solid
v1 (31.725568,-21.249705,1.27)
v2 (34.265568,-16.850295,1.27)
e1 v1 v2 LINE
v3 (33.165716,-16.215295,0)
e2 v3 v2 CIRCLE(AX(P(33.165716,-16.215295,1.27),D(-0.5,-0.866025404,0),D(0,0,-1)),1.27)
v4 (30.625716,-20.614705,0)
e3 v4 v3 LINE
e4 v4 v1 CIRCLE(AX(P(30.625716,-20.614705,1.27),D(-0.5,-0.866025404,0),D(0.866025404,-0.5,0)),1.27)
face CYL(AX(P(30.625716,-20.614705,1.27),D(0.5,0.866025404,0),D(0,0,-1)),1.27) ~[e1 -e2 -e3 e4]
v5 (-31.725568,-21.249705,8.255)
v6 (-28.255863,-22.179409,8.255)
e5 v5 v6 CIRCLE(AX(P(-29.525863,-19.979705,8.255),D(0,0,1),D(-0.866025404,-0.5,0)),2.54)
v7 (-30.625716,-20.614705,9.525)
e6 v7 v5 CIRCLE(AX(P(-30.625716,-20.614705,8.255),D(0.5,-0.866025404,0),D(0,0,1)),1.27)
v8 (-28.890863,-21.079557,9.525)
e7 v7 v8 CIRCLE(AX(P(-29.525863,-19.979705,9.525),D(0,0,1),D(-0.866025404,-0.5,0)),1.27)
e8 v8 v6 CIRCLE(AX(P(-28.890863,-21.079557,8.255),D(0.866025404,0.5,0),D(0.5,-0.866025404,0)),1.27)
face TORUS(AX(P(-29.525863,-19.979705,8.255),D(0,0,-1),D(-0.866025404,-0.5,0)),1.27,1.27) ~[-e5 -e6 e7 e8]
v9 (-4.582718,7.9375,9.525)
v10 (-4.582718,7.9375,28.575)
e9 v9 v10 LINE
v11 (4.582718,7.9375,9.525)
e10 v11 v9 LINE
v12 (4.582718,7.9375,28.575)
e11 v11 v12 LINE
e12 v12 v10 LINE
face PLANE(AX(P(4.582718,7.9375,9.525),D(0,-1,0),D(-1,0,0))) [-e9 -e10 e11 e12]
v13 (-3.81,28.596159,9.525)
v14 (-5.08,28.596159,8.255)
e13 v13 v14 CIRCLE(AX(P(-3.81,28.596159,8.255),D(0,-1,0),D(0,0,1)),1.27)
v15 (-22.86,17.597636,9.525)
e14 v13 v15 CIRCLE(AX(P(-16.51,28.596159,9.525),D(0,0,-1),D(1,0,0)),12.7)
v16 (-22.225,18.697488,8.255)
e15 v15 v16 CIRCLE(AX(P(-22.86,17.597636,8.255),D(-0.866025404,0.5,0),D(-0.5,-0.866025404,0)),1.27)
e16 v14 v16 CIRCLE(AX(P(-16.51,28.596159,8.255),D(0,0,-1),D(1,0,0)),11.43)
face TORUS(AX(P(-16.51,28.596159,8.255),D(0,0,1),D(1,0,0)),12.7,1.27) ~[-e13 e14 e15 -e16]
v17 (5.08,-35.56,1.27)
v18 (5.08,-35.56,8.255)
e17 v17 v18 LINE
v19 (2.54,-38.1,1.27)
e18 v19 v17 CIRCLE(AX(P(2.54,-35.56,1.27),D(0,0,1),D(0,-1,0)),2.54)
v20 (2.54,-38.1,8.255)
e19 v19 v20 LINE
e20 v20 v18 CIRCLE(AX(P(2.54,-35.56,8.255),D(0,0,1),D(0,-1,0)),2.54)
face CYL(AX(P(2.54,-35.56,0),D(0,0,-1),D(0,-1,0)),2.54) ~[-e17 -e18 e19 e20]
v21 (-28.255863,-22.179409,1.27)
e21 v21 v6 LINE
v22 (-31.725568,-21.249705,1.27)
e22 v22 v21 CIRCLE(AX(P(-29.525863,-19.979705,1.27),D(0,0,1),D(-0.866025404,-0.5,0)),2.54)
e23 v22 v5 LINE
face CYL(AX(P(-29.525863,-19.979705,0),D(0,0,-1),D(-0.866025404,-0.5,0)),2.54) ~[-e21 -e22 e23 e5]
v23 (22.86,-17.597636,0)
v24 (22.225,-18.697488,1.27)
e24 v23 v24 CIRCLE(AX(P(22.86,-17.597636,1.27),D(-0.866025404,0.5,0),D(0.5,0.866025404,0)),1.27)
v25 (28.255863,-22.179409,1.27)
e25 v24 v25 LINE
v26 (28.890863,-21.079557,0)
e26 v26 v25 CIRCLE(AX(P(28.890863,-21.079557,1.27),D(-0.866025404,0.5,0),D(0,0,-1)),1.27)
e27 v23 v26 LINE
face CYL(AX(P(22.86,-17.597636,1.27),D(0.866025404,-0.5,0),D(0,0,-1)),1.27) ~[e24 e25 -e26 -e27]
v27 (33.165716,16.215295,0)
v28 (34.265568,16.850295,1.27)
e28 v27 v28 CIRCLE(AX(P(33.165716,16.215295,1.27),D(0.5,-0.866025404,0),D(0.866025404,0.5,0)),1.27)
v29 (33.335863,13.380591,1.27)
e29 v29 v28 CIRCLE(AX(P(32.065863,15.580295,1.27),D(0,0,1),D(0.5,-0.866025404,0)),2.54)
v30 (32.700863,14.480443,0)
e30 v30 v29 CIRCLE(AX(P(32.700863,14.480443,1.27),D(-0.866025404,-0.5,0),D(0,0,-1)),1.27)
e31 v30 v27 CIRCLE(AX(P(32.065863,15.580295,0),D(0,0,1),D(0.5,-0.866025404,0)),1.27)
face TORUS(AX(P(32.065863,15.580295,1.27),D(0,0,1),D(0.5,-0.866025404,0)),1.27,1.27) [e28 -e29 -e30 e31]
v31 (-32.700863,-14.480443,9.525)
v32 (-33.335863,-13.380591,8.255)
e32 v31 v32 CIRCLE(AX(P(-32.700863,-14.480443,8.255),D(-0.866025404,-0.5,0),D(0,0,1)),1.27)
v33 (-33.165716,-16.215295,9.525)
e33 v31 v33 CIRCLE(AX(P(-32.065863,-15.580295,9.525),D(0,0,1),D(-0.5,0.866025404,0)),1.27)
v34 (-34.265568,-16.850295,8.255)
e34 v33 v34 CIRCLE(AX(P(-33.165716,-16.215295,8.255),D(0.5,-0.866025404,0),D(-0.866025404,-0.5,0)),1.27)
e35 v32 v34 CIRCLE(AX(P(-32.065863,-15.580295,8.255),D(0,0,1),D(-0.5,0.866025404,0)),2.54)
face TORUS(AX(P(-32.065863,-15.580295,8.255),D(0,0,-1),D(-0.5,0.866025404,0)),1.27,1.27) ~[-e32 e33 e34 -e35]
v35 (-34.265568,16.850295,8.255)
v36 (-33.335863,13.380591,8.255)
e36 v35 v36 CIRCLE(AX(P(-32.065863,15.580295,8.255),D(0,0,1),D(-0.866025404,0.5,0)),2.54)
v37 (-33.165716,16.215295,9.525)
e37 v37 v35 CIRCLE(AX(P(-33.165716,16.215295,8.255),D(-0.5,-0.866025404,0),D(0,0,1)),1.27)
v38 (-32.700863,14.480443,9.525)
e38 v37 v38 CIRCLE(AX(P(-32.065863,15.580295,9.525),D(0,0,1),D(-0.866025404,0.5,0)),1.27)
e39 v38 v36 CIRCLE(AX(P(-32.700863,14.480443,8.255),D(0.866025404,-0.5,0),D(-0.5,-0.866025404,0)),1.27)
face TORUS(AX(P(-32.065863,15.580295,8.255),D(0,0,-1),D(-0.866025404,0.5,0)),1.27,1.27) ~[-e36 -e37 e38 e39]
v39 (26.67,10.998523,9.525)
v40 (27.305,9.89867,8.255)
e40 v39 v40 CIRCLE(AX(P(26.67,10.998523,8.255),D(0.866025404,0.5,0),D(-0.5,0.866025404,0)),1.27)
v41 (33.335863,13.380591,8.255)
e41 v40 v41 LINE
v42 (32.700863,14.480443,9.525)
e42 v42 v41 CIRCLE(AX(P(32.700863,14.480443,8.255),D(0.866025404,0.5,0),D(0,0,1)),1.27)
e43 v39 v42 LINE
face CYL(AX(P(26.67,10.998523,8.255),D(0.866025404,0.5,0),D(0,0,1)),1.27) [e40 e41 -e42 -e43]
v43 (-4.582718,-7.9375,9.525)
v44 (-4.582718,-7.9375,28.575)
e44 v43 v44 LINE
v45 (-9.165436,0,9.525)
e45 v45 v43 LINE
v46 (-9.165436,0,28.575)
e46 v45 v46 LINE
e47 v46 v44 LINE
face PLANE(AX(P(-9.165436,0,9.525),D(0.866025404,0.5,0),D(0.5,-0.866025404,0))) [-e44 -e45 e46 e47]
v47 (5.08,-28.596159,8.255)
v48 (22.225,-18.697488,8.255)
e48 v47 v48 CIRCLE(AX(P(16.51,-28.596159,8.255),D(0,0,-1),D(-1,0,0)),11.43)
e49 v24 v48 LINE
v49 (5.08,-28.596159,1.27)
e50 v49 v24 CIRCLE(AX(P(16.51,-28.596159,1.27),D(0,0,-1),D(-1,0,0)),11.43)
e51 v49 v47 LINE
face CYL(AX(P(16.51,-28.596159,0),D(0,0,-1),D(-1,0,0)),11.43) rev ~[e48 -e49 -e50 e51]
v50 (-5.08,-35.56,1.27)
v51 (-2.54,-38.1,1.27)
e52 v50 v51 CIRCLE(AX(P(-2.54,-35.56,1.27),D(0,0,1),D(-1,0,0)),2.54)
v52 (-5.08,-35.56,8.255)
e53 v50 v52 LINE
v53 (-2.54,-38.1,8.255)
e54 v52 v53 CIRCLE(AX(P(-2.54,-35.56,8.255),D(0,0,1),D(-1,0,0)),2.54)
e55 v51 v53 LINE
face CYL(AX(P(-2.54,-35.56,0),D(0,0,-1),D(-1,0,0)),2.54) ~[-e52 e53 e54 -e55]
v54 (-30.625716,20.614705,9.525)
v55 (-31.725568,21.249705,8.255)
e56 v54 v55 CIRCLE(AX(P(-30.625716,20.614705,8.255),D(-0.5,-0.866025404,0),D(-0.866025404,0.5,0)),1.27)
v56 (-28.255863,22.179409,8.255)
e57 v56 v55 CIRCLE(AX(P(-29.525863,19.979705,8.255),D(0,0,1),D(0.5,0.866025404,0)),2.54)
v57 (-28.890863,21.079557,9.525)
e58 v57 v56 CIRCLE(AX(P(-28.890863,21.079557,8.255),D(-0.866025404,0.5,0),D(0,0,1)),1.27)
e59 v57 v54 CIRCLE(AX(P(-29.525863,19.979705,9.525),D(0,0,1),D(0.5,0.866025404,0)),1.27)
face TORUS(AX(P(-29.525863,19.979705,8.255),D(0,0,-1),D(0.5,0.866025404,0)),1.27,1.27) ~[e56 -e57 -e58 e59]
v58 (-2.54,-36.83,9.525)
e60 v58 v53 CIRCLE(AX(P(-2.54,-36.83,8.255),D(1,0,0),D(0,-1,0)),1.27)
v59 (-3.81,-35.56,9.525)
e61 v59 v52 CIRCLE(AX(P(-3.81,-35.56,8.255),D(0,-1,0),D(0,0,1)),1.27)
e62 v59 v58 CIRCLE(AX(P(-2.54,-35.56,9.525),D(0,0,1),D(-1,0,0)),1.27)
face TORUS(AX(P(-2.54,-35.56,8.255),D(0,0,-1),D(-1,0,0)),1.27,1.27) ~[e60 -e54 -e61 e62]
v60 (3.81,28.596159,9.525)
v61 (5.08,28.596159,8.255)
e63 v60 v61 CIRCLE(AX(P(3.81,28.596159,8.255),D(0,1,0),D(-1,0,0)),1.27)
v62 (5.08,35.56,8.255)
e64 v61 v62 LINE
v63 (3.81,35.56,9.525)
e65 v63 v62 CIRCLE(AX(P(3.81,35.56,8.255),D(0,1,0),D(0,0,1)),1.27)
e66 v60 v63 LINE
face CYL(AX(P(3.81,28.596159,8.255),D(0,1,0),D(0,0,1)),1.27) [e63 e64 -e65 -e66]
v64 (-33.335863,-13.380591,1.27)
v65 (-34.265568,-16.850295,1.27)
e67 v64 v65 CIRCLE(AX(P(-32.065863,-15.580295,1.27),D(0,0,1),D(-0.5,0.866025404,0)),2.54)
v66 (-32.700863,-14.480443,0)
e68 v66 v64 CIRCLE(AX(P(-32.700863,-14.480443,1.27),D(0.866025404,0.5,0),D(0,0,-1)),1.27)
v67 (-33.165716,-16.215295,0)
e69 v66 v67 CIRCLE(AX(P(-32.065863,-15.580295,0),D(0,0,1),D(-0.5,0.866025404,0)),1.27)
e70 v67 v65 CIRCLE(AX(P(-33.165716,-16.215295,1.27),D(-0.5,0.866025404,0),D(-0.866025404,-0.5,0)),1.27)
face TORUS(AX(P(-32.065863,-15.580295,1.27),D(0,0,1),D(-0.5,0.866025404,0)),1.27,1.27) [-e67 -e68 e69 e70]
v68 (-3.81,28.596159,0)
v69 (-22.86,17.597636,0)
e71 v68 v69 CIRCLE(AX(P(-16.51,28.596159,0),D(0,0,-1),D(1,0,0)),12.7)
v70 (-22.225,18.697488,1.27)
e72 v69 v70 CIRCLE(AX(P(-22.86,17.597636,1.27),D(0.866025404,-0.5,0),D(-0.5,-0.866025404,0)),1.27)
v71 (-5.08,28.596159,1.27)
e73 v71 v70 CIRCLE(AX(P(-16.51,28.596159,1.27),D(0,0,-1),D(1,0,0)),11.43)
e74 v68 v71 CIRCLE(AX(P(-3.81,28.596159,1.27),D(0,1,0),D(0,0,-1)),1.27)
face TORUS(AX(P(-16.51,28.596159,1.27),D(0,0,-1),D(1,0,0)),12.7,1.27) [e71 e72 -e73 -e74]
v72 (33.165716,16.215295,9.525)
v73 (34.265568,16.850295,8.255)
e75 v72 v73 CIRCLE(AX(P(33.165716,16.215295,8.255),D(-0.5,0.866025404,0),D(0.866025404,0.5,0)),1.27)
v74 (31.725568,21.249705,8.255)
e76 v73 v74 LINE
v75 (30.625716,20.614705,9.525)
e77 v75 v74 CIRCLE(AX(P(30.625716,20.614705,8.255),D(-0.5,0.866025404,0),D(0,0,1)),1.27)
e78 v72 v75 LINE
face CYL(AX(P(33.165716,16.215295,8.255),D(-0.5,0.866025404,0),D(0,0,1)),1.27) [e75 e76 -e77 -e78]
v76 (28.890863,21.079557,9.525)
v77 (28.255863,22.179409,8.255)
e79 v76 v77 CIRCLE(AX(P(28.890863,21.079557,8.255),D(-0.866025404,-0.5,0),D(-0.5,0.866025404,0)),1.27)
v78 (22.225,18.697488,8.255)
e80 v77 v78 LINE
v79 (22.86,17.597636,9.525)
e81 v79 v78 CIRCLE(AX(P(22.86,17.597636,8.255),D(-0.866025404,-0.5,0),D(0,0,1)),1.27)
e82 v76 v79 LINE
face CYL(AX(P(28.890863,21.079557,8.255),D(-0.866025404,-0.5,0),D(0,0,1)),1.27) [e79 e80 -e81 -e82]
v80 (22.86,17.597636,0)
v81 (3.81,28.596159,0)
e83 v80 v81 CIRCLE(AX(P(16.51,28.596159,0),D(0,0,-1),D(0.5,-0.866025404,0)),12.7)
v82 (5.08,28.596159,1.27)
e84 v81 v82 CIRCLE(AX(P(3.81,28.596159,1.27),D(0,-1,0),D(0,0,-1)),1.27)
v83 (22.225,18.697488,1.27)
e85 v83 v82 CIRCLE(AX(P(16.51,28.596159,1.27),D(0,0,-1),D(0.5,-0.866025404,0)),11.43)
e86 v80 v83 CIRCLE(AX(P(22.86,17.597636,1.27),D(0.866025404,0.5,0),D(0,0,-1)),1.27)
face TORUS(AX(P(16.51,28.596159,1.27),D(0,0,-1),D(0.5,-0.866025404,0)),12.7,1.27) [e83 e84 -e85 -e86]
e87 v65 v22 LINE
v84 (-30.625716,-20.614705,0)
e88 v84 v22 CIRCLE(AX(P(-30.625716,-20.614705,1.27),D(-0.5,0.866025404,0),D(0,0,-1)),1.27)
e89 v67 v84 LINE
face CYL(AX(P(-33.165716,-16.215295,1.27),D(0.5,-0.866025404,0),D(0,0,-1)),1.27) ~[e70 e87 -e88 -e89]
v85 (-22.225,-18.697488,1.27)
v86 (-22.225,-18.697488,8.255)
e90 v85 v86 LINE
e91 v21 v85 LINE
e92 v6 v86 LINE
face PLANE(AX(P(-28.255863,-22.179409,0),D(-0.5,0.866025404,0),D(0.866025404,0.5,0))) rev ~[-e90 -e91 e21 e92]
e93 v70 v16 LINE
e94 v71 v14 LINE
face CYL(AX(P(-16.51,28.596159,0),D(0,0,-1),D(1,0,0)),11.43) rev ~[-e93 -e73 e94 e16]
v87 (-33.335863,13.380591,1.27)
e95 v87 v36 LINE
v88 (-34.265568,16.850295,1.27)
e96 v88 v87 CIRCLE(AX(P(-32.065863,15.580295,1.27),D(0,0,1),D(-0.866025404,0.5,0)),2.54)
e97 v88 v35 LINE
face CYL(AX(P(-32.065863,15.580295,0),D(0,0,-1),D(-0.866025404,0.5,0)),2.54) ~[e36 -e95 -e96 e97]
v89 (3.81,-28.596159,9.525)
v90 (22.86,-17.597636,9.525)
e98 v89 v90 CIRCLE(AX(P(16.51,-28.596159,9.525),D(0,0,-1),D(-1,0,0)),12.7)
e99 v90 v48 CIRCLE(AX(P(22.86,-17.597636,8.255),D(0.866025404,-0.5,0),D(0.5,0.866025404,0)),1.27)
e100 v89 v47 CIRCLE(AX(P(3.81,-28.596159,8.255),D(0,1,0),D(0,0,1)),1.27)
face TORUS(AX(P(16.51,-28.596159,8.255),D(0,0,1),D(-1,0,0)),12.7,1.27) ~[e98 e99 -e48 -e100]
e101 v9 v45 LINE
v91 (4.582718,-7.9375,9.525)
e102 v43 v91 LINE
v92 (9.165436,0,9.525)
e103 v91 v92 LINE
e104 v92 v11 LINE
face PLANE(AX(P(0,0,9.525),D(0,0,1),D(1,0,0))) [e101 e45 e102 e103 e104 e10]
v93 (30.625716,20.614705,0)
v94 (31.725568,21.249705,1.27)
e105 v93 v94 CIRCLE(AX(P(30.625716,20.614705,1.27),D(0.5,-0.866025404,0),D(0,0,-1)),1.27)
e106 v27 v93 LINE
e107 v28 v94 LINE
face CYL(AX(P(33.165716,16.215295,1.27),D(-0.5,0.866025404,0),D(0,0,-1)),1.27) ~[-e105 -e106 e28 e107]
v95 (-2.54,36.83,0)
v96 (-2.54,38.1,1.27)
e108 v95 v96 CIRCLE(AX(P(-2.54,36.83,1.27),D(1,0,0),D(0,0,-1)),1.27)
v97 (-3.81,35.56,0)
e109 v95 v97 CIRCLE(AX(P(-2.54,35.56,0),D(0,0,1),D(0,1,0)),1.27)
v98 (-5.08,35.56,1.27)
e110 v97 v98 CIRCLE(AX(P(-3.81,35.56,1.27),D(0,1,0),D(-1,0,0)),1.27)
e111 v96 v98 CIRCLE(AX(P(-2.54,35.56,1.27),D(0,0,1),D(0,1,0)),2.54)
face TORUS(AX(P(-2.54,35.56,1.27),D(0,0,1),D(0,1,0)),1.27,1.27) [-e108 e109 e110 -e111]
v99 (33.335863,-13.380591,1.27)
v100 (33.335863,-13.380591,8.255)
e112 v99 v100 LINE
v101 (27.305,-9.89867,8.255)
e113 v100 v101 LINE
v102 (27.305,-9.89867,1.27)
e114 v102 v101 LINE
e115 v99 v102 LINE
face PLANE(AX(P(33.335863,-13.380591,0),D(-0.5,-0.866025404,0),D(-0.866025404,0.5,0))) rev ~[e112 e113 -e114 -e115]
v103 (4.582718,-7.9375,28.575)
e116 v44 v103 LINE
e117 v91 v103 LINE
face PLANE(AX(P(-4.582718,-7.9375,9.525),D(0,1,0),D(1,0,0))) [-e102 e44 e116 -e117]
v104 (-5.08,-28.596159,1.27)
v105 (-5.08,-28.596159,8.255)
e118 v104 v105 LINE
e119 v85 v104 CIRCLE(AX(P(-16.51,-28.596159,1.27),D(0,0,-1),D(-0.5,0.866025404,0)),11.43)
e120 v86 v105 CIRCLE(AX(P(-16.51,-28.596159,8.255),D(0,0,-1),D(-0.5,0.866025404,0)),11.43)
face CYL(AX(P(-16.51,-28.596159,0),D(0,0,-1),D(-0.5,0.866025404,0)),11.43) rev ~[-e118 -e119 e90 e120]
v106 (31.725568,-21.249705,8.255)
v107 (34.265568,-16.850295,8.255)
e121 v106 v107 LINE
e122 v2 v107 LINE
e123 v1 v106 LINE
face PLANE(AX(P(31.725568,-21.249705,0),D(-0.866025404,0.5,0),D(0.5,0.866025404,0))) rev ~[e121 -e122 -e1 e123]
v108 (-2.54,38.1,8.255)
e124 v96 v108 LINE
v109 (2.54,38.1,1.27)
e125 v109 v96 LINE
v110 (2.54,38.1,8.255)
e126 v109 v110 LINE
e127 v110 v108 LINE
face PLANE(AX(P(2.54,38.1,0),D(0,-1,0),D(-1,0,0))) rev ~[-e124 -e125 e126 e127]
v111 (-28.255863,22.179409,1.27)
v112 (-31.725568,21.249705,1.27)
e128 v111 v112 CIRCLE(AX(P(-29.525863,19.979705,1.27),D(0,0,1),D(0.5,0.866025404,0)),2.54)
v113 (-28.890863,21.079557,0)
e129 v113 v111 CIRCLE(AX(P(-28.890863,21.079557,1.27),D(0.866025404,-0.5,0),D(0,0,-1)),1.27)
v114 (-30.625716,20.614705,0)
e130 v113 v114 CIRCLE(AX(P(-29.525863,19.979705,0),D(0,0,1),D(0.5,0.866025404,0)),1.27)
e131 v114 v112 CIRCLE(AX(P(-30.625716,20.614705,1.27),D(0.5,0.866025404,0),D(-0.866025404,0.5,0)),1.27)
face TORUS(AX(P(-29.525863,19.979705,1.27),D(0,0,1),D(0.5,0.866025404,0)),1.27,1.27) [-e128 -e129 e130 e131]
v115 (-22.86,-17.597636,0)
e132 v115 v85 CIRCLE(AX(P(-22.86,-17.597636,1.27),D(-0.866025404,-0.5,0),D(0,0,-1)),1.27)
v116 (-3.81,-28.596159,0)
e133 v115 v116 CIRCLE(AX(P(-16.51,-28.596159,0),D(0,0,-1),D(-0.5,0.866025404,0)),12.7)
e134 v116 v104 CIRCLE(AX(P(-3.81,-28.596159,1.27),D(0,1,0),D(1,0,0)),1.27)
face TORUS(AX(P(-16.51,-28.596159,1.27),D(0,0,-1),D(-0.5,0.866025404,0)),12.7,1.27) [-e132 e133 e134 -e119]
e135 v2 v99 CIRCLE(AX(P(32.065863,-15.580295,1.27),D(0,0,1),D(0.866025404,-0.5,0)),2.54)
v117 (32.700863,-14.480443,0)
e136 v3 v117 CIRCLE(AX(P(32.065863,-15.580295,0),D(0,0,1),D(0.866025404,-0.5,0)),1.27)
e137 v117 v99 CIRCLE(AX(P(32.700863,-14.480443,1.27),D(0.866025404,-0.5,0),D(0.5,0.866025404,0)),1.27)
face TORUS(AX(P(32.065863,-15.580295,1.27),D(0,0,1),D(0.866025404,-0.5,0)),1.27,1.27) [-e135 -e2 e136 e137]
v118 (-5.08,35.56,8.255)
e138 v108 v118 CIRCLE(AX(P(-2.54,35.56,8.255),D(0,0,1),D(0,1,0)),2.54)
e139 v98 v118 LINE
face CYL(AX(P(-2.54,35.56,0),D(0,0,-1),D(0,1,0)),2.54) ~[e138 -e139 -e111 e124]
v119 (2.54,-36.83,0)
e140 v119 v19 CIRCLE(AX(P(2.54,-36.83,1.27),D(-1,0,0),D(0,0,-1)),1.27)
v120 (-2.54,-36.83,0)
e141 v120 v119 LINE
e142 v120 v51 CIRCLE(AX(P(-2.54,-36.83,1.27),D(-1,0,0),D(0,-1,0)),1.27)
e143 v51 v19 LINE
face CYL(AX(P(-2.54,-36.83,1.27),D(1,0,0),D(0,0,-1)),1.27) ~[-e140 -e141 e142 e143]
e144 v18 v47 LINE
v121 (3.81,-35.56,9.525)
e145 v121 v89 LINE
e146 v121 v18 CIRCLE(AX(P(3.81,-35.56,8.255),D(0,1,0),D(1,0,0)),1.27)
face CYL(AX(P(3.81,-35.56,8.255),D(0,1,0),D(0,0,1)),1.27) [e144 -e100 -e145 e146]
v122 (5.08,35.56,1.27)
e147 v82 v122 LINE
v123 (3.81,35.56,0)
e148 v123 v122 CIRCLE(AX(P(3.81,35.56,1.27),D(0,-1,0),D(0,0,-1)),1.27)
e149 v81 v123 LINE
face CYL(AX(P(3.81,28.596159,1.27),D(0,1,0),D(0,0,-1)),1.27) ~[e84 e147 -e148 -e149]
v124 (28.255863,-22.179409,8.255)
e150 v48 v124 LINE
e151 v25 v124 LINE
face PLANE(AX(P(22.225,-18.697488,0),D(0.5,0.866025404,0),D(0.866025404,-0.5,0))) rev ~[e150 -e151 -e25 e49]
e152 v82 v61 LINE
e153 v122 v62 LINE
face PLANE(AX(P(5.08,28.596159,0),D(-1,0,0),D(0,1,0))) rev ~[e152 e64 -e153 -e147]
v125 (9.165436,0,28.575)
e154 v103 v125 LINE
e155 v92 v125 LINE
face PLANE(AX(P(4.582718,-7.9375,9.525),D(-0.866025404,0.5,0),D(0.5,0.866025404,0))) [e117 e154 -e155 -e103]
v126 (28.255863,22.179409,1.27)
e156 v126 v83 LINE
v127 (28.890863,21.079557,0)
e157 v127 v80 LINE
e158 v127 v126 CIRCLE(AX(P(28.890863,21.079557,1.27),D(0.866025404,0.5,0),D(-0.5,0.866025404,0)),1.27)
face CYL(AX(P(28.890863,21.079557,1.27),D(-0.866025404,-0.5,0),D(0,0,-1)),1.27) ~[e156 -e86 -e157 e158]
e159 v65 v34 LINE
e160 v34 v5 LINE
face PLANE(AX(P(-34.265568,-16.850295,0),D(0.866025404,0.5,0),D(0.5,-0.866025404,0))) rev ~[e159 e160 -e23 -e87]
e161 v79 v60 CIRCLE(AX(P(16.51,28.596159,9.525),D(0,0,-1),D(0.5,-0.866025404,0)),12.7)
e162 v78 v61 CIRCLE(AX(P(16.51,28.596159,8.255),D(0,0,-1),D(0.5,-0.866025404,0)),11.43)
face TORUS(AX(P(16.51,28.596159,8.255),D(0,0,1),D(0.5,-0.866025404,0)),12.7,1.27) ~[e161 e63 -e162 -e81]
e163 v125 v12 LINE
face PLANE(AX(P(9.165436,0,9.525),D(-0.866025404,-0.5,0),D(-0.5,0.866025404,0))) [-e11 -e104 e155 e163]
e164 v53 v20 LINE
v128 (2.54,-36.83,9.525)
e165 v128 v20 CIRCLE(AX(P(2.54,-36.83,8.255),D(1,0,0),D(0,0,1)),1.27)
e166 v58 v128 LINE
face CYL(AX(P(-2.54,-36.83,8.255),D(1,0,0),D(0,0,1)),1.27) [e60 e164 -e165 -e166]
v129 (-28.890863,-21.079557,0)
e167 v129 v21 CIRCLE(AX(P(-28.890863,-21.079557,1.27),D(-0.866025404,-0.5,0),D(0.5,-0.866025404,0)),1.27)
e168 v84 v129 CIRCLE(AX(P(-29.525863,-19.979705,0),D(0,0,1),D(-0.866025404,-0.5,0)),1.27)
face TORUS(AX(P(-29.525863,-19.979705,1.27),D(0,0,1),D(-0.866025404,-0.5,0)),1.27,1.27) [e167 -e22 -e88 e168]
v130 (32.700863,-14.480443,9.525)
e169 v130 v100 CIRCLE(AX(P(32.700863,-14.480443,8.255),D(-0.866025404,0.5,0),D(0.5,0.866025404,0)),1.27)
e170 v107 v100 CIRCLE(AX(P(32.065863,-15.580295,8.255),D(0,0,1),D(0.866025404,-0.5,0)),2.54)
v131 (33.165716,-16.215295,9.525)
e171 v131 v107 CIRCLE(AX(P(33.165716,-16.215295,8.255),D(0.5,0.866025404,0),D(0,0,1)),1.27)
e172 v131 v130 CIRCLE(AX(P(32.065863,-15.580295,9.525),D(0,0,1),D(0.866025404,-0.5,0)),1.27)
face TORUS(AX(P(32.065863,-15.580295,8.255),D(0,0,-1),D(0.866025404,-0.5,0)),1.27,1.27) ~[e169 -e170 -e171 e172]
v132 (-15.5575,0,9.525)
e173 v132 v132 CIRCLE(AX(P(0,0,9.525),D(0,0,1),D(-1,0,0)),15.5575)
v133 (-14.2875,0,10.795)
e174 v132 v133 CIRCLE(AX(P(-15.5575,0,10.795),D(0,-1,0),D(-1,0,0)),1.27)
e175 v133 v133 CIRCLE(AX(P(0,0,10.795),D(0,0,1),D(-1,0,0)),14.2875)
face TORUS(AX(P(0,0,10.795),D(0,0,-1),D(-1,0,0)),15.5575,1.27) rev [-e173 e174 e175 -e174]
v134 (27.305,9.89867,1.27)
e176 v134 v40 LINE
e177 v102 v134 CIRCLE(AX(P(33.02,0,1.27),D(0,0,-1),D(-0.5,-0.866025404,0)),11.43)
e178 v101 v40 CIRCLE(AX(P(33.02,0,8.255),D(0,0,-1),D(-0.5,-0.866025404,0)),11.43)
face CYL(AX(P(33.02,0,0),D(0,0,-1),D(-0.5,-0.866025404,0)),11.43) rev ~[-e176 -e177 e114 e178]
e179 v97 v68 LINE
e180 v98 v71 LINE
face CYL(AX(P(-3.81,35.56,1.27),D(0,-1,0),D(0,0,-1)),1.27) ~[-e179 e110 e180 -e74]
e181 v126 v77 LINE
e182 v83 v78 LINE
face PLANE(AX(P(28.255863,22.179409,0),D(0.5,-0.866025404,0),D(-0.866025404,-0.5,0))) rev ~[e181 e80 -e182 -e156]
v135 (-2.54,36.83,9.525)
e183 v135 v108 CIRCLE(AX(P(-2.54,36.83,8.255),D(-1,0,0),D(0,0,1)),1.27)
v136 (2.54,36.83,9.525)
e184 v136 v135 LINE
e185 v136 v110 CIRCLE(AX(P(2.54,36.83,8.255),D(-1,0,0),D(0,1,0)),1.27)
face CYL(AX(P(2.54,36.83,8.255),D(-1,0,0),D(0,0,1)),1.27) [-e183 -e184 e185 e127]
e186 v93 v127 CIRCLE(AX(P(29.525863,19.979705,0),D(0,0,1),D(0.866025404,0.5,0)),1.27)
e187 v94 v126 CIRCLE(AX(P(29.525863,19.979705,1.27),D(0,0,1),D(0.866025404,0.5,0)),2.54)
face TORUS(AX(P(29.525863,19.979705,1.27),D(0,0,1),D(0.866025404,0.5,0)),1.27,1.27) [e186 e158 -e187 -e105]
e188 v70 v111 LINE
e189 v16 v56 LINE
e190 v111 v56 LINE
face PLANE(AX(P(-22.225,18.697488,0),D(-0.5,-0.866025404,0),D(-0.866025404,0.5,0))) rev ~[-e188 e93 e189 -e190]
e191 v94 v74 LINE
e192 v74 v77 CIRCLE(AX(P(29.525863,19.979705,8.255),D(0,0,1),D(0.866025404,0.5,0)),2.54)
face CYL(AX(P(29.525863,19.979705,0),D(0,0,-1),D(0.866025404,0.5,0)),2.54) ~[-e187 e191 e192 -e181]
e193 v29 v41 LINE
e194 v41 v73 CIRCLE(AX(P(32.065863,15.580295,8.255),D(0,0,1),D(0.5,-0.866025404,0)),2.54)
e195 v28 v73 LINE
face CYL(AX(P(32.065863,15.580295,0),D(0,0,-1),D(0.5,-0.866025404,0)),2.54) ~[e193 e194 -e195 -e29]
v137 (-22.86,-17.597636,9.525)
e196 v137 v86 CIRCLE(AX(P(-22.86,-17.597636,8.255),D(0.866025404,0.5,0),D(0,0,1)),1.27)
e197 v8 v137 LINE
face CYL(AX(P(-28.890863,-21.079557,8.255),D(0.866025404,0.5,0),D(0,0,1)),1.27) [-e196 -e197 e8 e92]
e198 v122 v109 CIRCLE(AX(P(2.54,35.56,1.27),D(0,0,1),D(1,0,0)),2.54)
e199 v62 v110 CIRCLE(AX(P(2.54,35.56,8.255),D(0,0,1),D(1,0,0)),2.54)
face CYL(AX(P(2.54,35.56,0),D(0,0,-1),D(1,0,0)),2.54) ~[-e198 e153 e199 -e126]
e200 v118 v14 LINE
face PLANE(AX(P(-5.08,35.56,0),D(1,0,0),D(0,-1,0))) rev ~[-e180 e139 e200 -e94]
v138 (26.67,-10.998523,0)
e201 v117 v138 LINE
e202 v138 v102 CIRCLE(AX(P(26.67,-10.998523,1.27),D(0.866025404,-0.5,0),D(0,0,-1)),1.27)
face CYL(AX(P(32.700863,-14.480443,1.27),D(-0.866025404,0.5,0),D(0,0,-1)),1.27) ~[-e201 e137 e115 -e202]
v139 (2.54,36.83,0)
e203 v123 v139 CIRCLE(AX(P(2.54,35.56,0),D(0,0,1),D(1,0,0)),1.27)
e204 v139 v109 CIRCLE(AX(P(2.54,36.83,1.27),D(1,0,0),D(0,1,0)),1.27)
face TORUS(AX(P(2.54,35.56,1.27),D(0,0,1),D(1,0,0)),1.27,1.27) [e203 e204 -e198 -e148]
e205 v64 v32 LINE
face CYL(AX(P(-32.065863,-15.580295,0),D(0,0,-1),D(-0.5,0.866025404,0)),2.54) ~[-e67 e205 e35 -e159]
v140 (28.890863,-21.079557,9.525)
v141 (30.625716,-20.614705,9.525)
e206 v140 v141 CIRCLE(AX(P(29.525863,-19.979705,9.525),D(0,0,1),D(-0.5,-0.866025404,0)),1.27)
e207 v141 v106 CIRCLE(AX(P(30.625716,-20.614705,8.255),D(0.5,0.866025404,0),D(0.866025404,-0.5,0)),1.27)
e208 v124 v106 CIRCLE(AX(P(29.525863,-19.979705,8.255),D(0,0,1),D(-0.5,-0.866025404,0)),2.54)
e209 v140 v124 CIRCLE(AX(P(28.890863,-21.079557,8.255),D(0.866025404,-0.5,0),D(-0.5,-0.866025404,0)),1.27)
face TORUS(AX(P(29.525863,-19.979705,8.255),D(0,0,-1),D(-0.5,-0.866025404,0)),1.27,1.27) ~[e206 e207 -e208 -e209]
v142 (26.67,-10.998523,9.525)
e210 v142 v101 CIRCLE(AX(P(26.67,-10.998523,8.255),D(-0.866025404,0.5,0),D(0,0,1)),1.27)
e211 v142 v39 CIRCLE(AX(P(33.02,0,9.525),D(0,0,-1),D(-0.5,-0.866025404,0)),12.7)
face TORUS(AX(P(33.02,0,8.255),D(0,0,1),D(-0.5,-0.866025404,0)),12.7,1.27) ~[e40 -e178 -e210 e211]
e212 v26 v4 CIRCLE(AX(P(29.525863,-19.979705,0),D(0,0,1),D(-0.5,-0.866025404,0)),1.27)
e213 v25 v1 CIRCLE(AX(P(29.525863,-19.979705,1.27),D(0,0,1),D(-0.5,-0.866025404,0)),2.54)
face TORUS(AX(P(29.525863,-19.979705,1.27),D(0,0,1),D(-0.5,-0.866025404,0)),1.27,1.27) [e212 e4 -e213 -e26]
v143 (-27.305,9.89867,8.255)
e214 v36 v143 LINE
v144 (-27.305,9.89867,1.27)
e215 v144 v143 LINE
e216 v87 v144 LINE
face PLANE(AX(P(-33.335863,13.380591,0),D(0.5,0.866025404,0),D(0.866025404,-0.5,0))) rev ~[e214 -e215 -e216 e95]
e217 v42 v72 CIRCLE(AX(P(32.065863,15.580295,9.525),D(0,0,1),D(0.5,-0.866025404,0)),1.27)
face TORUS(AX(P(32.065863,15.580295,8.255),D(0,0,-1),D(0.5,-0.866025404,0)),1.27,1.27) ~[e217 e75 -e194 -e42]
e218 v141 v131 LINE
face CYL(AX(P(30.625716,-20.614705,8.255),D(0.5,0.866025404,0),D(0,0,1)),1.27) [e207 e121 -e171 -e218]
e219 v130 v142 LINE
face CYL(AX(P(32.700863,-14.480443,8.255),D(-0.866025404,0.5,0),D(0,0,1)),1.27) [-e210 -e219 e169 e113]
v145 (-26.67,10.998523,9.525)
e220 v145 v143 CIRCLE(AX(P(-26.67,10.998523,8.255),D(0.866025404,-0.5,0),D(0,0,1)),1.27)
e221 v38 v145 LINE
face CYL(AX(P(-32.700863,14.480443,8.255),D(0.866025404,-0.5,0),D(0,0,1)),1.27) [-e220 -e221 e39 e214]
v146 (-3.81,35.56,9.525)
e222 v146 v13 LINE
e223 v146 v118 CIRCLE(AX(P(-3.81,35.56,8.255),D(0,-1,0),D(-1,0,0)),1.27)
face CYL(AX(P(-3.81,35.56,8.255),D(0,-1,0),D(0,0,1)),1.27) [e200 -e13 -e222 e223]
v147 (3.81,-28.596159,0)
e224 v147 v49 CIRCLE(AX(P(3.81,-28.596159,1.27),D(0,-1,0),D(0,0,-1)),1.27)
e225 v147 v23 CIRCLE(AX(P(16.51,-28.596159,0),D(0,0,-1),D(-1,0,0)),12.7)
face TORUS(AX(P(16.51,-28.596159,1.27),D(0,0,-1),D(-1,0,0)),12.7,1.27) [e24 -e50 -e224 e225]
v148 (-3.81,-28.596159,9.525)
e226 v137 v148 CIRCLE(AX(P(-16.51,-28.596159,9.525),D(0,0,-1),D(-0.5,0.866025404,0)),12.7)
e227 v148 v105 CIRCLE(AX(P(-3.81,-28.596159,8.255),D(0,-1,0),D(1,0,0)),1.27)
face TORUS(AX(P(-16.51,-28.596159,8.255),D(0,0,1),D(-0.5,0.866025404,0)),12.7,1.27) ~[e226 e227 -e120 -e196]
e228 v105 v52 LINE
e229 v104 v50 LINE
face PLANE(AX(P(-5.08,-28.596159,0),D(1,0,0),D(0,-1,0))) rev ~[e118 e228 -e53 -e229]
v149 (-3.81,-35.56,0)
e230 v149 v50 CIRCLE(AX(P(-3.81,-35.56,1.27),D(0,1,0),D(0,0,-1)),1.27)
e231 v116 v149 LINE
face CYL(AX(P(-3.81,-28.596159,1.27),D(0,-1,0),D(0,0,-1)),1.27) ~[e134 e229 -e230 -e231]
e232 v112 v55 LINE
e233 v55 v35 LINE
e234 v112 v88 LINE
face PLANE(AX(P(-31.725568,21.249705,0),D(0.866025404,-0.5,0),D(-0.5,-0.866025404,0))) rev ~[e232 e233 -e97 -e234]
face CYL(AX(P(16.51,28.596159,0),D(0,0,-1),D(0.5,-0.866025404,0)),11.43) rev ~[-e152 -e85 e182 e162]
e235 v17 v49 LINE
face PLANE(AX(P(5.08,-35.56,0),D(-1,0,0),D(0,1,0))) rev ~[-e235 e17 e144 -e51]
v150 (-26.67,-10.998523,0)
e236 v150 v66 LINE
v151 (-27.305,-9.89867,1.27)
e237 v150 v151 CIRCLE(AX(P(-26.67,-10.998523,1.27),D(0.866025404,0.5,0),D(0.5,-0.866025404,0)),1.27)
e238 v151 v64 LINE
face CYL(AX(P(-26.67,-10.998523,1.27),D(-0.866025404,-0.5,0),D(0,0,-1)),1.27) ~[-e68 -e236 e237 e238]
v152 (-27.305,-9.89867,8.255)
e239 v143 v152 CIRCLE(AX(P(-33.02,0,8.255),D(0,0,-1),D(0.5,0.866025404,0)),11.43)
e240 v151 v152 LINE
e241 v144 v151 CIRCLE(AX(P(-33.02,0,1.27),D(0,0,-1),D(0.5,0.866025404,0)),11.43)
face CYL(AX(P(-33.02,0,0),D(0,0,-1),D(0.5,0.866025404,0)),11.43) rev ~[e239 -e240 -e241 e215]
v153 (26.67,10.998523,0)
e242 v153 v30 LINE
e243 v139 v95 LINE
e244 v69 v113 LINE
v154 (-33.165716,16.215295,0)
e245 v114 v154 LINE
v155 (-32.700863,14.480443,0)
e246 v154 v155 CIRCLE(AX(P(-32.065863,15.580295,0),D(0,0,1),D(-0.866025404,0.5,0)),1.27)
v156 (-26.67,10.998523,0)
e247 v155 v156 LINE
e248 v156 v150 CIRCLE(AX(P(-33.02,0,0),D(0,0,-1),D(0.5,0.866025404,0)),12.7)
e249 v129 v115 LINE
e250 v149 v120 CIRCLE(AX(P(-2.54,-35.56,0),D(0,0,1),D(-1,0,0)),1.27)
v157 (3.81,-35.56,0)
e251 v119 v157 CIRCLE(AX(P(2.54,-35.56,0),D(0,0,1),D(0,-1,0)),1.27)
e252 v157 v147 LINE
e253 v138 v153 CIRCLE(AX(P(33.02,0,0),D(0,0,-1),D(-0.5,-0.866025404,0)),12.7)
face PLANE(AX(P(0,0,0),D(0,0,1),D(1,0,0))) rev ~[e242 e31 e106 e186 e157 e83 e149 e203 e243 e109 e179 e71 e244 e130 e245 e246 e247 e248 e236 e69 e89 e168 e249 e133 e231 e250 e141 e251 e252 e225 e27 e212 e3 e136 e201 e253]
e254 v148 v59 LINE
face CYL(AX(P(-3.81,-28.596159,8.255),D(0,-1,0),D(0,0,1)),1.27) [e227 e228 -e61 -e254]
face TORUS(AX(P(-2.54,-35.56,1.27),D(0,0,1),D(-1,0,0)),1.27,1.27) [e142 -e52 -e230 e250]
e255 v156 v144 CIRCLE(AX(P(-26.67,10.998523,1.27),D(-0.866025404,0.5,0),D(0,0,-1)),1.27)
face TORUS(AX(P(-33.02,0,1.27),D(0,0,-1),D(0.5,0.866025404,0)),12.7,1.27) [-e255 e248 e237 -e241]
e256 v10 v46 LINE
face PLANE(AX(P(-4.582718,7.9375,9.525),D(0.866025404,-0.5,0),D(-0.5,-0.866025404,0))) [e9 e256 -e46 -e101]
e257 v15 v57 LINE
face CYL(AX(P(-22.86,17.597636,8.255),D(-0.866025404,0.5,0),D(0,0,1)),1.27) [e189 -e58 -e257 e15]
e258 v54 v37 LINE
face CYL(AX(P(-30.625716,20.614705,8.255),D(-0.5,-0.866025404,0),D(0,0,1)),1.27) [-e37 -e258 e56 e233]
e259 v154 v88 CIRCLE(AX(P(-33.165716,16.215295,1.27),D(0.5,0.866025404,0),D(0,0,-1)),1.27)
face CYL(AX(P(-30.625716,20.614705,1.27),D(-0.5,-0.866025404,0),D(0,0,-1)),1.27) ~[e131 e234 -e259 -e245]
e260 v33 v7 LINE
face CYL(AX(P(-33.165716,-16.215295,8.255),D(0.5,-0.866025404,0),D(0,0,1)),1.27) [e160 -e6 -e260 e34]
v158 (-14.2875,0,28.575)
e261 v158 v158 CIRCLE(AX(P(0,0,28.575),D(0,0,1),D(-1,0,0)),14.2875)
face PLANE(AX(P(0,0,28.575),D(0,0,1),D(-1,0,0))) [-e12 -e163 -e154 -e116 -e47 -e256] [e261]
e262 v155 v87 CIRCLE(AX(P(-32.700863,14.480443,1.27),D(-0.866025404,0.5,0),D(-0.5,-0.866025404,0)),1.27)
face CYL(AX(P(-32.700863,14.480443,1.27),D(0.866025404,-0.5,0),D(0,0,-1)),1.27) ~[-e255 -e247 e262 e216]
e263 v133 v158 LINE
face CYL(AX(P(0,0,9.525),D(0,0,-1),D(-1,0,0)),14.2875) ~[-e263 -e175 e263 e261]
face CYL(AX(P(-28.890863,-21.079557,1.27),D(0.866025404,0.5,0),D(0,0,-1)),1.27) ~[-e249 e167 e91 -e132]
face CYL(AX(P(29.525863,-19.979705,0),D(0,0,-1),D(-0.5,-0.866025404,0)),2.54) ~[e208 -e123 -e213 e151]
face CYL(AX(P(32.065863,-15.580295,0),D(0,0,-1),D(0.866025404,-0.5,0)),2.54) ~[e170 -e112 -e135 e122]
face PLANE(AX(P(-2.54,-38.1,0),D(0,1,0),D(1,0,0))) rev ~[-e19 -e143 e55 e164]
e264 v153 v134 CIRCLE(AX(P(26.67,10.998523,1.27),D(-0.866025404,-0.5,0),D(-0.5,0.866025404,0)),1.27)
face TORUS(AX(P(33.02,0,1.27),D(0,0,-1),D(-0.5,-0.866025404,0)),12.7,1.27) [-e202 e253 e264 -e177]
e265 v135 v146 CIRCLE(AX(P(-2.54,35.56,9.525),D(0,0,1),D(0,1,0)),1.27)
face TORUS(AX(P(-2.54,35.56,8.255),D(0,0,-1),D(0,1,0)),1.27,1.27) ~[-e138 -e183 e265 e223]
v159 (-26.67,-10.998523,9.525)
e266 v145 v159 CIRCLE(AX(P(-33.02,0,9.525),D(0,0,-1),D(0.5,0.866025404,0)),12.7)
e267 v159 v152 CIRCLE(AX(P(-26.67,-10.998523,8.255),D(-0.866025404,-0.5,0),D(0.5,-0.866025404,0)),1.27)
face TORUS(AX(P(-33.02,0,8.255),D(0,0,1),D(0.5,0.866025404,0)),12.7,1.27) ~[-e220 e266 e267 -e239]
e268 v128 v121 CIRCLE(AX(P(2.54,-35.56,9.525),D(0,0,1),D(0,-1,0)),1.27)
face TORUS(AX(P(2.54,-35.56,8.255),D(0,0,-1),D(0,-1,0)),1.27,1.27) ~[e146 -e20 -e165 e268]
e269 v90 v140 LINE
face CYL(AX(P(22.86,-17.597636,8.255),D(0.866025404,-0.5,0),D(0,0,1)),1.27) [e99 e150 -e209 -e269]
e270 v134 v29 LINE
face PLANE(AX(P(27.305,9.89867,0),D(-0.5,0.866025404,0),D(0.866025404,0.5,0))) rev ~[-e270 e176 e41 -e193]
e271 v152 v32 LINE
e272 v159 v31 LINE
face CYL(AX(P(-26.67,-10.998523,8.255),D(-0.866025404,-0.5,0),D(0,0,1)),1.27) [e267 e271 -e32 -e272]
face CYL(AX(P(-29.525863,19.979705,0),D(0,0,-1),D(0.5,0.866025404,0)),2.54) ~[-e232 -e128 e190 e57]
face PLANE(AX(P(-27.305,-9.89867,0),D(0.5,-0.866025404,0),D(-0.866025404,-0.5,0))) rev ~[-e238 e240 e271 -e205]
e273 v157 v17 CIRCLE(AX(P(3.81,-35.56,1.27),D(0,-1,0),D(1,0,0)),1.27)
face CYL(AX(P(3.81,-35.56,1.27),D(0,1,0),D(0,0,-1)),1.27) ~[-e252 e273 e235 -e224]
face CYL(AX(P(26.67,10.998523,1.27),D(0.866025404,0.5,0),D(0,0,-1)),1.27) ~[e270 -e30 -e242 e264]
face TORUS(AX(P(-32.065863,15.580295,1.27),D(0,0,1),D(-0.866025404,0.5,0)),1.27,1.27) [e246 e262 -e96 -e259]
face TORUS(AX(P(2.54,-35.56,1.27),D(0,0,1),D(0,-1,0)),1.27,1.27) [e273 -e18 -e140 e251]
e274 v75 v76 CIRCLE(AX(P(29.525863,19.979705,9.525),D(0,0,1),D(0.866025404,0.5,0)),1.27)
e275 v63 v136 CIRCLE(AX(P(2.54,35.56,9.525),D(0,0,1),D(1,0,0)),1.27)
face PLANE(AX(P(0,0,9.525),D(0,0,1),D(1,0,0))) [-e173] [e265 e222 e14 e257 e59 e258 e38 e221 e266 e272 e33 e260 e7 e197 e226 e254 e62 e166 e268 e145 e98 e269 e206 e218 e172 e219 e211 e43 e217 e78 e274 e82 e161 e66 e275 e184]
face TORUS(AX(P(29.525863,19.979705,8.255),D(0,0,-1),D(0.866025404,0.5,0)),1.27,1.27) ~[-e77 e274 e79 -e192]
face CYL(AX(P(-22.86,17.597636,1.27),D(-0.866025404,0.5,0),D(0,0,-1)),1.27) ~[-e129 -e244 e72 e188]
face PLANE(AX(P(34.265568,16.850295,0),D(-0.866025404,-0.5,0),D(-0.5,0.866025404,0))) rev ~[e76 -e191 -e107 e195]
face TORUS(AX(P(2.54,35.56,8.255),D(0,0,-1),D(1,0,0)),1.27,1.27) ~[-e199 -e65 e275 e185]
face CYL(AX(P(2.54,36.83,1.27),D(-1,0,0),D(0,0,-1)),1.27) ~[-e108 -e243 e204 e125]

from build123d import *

# Parameters (mm, degrees)
BOSS_EXTRUDE1_DEPTH = 9.525
SKETCH2_R           = 14.2875
BOSS_EXTRUDE3_DEPTH = 19.05
FILLET3_R           = 1.27


with BuildPart() as part:
    # Sketch1 → Boss-Extrude1 (new body)
    with BuildSketch(Plane.XY):
        with BuildLine():
            Line((-5.08, 35.56), (-5.08, 28.596158833))
            ThreePointArc((-5.08, 28.596158833), (-10.795, 18.697488468), (-22.225, 18.697488468))
            Line((-22.225, 18.697488468), (-28.255863359, 22.179409051))
            ThreePointArc((-28.255863359, 22.179409051), (-30.183263733, 22.433156124), (-31.725567884, 21.249704526))
            Line((-31.725567884, 21.249704526), (-34.265567884, 16.850295474))
            ThreePointArc((-34.265567884, 16.850295474), (-34.519314957, 14.9228951), (-33.335863359, 13.380590949))
            Line((-33.335863359, 13.380590949), (-27.305, 9.898670365))
            ThreePointArc((-27.305, 9.898670365), (-21.59, 0), (-27.305, -9.898670365))
            Line((-27.305, -9.898670365), (-33.335863359, -13.380590949))
            ThreePointArc((-33.335863359, -13.380590949), (-34.519314957, -14.9228951), (-34.265567884, -16.850295474))
            Line((-34.265567884, -16.850295474), (-31.725567884, -21.249704526))
            ThreePointArc((-31.725567884, -21.249704526), (-30.183263733, -22.433156124), (-28.255863359, -22.179409051))
            Line((-28.255863359, -22.179409051), (-22.225, -18.697488468))
            ThreePointArc((-22.225, -18.697488468), (-10.795, -18.697488468), (-5.08, -28.596158833))
            Line((-5.08, -28.596158833), (-5.08, -35.56))
            ThreePointArc((-5.08, -35.56), (-4.336051224, -37.356051224), (-2.54, -38.1))
            Line((-2.54, -38.1), (2.54, -38.1))
            ThreePointArc((2.54, -38.1), (4.336051224, -37.356051224), (5.08, -35.56))
            Line((5.08, -35.56), (5.08, -28.596158833))
            ThreePointArc((5.08, -28.596158833), (10.795, -18.697488468), (22.225, -18.697488468))
            Line((22.225, -18.697488468), (28.255863359, -22.179409051))
            ThreePointArc((28.255863359, -22.179409051), (30.183263733, -22.433156124), (31.725567884, -21.249704526))
            Line((31.725567884, -21.249704526), (34.265567884, -16.850295474))
            ThreePointArc((34.265567884, -16.850295474), (34.519314957, -14.9228951), (33.335863359, -13.380590949))
            Line((33.335863359, -13.380590949), (27.305, -9.898670365))
            ThreePointArc((27.305, -9.898670365), (21.59, 0), (27.305, 9.898670365))
            Line((27.305, 9.898670365), (33.335863359, 13.380590949))
            ThreePointArc((33.335863359, 13.380590949), (34.519314957, 14.9228951), (34.265567884, 16.850295474))
            Line((34.265567884, 16.850295474), (31.725567884, 21.249704526))
            ThreePointArc((31.725567884, 21.249704526), (30.183263733, 22.433156124), (28.255863359, 22.179409051))
            Line((28.255863359, 22.179409051), (22.225, 18.697488468))
            ThreePointArc((22.225, 18.697488468), (10.795, 18.697488468), (5.08, 28.596158833))
            Line((5.08, 28.596158833), (5.08, 35.56))
            ThreePointArc((5.08, 35.56), (4.336051224, 37.356051224), (2.54, 38.1))
            Line((2.54, 38.1), (-2.54, 38.1))
            ThreePointArc((-2.54, 38.1), (-4.336051224, 37.356051224), (-5.08, 35.56))
        make_face()
    extrude(amount=BOSS_EXTRUDE1_DEPTH)

    # Sketch2 → Boss-Extrude3 (add)
    with BuildSketch(Plane.XY.offset(9.525)):
        with Locations(Location((0, 0, 0), (0, 0, 180))):
            Circle(SKETCH2_R)
        Polygon((9.165435523, 0), (4.582717762, 7.9375), (-4.582717762, 7.9375), (-9.165435523, 0), (-4.582717762, -7.9375), (4.582717762, -7.9375), align=None, mode=Mode.SUBTRACT)
    extrude(amount=BOSS_EXTRUDE3_DEPTH)

    # Fillet3
    fillet3_edges = [part.edges().sort_by_distance(p)[0] for p in [
        (30.183263733, -22.433156124, 9.525),
        (14.2875, 0, 9.525),
        (32.995567884, -19.05, 9.525),
        (34.519314957, -14.9228951, 9.525),
        (30.320431679, -11.639630657, 9.525),
        (21.59, 0, 9.525),
        (30.320431679, 11.639630657, 9.525),
        (34.519314957, 14.9228951, 9.525),
        (32.995567884, 19.05, 9.525),
        (-4.336051224, 37.356051224, 9.525),
        (30.183263733, 22.433156124, 9.525),
        (25.240431679, 20.438448759, 9.525),
        (10.795, 18.697488468, 9.525),
        (5.08, 32.078079416, 9.525),
        (-5.08, 32.078079416, 9.525),
        (-10.795, 18.697488468, 9.525),
        (-25.240431679, 20.438448759, 9.525),
        (-30.183263733, 22.433156124, 9.525),
        (-32.995567884, 19.05, 9.525),
        (5.08, 32.078079416, 0),
        (10.795, 18.697488468, 0),
        (25.240431679, 20.438448759, 0),
        (30.183263733, 22.433156124, 0),
        (32.995567884, 19.05, 0),
        (34.519314957, 14.9228951, 0),
        (30.320431679, 11.639630657, 0),
        (21.59, 0, 0),
        (-34.519314957, 14.9228951, 9.525),
        (30.320431679, -11.639630657, 0),
        (34.519314957, -14.9228951, 0),
        (32.995567884, -19.05, 0),
        (30.183263733, -22.433156124, 0),
        (25.240431679, -20.438448759, 0),
        (10.795, -18.697488468, 0),
        (5.08, -32.078079416, 0),
        (4.336051224, -37.356051224, 0),
        (0, -38.1, 0),
        (-4.336051224, -37.356051224, 0),
        (-30.320431679, 11.639630657, 9.525),
        (-5.08, -32.078079416, 0),
        (-10.795, -18.697488468, 0),
        (-25.240431679, -20.438448759, 0),
        (-30.183263733, -22.433156124, 0),
        (-32.995567884, -19.05, 0),
        (-34.519314957, -14.9228951, 0),
        (-30.320431679, -11.639630657, 0),
        (-21.59, 0, 0),
        (-30.320431679, 11.639630657, 0),
        (-34.519314957, 14.9228951, 0),
        (-21.59, 0, 9.525),
        (-32.995567884, 19.05, 0),
        (-30.183263733, 22.433156124, 0),
        (-25.240431679, 20.438448759, 0),
        (-10.795, 18.697488468, 0),
        (-5.08, 32.078079416, 0),
        (-4.336051224, 37.356051224, 0),
        (0, 38.1, 0),
        (4.336051224, 37.356051224, 0),
        (-30.320431679, -11.639630657, 9.525),
        (4.336051224, 37.356051224, 9.525),
        (-34.519314957, -14.9228951, 9.525),
        (-32.995567884, -19.05, 9.525),
        (-30.183263733, -22.433156124, 9.525),
        (-25.240431679, -20.438448759, 9.525),
        (-10.795, -18.697488468, 9.525),
        (-5.08, -32.078079416, 9.525),
        (-4.336051224, -37.356051224, 9.525),
        (0, -38.1, 9.525),
        (4.336051224, -37.356051224, 9.525),
        (5.08, -32.078079416, 9.525),
        (0, 38.1, 9.525),
        (10.795, -18.697488468, 9.525),
        (25.240431679, -20.438448759, 9.525),
    ]]
    fillet(fillet3_edges, radius=FILLET3_R)


solid = part.part
